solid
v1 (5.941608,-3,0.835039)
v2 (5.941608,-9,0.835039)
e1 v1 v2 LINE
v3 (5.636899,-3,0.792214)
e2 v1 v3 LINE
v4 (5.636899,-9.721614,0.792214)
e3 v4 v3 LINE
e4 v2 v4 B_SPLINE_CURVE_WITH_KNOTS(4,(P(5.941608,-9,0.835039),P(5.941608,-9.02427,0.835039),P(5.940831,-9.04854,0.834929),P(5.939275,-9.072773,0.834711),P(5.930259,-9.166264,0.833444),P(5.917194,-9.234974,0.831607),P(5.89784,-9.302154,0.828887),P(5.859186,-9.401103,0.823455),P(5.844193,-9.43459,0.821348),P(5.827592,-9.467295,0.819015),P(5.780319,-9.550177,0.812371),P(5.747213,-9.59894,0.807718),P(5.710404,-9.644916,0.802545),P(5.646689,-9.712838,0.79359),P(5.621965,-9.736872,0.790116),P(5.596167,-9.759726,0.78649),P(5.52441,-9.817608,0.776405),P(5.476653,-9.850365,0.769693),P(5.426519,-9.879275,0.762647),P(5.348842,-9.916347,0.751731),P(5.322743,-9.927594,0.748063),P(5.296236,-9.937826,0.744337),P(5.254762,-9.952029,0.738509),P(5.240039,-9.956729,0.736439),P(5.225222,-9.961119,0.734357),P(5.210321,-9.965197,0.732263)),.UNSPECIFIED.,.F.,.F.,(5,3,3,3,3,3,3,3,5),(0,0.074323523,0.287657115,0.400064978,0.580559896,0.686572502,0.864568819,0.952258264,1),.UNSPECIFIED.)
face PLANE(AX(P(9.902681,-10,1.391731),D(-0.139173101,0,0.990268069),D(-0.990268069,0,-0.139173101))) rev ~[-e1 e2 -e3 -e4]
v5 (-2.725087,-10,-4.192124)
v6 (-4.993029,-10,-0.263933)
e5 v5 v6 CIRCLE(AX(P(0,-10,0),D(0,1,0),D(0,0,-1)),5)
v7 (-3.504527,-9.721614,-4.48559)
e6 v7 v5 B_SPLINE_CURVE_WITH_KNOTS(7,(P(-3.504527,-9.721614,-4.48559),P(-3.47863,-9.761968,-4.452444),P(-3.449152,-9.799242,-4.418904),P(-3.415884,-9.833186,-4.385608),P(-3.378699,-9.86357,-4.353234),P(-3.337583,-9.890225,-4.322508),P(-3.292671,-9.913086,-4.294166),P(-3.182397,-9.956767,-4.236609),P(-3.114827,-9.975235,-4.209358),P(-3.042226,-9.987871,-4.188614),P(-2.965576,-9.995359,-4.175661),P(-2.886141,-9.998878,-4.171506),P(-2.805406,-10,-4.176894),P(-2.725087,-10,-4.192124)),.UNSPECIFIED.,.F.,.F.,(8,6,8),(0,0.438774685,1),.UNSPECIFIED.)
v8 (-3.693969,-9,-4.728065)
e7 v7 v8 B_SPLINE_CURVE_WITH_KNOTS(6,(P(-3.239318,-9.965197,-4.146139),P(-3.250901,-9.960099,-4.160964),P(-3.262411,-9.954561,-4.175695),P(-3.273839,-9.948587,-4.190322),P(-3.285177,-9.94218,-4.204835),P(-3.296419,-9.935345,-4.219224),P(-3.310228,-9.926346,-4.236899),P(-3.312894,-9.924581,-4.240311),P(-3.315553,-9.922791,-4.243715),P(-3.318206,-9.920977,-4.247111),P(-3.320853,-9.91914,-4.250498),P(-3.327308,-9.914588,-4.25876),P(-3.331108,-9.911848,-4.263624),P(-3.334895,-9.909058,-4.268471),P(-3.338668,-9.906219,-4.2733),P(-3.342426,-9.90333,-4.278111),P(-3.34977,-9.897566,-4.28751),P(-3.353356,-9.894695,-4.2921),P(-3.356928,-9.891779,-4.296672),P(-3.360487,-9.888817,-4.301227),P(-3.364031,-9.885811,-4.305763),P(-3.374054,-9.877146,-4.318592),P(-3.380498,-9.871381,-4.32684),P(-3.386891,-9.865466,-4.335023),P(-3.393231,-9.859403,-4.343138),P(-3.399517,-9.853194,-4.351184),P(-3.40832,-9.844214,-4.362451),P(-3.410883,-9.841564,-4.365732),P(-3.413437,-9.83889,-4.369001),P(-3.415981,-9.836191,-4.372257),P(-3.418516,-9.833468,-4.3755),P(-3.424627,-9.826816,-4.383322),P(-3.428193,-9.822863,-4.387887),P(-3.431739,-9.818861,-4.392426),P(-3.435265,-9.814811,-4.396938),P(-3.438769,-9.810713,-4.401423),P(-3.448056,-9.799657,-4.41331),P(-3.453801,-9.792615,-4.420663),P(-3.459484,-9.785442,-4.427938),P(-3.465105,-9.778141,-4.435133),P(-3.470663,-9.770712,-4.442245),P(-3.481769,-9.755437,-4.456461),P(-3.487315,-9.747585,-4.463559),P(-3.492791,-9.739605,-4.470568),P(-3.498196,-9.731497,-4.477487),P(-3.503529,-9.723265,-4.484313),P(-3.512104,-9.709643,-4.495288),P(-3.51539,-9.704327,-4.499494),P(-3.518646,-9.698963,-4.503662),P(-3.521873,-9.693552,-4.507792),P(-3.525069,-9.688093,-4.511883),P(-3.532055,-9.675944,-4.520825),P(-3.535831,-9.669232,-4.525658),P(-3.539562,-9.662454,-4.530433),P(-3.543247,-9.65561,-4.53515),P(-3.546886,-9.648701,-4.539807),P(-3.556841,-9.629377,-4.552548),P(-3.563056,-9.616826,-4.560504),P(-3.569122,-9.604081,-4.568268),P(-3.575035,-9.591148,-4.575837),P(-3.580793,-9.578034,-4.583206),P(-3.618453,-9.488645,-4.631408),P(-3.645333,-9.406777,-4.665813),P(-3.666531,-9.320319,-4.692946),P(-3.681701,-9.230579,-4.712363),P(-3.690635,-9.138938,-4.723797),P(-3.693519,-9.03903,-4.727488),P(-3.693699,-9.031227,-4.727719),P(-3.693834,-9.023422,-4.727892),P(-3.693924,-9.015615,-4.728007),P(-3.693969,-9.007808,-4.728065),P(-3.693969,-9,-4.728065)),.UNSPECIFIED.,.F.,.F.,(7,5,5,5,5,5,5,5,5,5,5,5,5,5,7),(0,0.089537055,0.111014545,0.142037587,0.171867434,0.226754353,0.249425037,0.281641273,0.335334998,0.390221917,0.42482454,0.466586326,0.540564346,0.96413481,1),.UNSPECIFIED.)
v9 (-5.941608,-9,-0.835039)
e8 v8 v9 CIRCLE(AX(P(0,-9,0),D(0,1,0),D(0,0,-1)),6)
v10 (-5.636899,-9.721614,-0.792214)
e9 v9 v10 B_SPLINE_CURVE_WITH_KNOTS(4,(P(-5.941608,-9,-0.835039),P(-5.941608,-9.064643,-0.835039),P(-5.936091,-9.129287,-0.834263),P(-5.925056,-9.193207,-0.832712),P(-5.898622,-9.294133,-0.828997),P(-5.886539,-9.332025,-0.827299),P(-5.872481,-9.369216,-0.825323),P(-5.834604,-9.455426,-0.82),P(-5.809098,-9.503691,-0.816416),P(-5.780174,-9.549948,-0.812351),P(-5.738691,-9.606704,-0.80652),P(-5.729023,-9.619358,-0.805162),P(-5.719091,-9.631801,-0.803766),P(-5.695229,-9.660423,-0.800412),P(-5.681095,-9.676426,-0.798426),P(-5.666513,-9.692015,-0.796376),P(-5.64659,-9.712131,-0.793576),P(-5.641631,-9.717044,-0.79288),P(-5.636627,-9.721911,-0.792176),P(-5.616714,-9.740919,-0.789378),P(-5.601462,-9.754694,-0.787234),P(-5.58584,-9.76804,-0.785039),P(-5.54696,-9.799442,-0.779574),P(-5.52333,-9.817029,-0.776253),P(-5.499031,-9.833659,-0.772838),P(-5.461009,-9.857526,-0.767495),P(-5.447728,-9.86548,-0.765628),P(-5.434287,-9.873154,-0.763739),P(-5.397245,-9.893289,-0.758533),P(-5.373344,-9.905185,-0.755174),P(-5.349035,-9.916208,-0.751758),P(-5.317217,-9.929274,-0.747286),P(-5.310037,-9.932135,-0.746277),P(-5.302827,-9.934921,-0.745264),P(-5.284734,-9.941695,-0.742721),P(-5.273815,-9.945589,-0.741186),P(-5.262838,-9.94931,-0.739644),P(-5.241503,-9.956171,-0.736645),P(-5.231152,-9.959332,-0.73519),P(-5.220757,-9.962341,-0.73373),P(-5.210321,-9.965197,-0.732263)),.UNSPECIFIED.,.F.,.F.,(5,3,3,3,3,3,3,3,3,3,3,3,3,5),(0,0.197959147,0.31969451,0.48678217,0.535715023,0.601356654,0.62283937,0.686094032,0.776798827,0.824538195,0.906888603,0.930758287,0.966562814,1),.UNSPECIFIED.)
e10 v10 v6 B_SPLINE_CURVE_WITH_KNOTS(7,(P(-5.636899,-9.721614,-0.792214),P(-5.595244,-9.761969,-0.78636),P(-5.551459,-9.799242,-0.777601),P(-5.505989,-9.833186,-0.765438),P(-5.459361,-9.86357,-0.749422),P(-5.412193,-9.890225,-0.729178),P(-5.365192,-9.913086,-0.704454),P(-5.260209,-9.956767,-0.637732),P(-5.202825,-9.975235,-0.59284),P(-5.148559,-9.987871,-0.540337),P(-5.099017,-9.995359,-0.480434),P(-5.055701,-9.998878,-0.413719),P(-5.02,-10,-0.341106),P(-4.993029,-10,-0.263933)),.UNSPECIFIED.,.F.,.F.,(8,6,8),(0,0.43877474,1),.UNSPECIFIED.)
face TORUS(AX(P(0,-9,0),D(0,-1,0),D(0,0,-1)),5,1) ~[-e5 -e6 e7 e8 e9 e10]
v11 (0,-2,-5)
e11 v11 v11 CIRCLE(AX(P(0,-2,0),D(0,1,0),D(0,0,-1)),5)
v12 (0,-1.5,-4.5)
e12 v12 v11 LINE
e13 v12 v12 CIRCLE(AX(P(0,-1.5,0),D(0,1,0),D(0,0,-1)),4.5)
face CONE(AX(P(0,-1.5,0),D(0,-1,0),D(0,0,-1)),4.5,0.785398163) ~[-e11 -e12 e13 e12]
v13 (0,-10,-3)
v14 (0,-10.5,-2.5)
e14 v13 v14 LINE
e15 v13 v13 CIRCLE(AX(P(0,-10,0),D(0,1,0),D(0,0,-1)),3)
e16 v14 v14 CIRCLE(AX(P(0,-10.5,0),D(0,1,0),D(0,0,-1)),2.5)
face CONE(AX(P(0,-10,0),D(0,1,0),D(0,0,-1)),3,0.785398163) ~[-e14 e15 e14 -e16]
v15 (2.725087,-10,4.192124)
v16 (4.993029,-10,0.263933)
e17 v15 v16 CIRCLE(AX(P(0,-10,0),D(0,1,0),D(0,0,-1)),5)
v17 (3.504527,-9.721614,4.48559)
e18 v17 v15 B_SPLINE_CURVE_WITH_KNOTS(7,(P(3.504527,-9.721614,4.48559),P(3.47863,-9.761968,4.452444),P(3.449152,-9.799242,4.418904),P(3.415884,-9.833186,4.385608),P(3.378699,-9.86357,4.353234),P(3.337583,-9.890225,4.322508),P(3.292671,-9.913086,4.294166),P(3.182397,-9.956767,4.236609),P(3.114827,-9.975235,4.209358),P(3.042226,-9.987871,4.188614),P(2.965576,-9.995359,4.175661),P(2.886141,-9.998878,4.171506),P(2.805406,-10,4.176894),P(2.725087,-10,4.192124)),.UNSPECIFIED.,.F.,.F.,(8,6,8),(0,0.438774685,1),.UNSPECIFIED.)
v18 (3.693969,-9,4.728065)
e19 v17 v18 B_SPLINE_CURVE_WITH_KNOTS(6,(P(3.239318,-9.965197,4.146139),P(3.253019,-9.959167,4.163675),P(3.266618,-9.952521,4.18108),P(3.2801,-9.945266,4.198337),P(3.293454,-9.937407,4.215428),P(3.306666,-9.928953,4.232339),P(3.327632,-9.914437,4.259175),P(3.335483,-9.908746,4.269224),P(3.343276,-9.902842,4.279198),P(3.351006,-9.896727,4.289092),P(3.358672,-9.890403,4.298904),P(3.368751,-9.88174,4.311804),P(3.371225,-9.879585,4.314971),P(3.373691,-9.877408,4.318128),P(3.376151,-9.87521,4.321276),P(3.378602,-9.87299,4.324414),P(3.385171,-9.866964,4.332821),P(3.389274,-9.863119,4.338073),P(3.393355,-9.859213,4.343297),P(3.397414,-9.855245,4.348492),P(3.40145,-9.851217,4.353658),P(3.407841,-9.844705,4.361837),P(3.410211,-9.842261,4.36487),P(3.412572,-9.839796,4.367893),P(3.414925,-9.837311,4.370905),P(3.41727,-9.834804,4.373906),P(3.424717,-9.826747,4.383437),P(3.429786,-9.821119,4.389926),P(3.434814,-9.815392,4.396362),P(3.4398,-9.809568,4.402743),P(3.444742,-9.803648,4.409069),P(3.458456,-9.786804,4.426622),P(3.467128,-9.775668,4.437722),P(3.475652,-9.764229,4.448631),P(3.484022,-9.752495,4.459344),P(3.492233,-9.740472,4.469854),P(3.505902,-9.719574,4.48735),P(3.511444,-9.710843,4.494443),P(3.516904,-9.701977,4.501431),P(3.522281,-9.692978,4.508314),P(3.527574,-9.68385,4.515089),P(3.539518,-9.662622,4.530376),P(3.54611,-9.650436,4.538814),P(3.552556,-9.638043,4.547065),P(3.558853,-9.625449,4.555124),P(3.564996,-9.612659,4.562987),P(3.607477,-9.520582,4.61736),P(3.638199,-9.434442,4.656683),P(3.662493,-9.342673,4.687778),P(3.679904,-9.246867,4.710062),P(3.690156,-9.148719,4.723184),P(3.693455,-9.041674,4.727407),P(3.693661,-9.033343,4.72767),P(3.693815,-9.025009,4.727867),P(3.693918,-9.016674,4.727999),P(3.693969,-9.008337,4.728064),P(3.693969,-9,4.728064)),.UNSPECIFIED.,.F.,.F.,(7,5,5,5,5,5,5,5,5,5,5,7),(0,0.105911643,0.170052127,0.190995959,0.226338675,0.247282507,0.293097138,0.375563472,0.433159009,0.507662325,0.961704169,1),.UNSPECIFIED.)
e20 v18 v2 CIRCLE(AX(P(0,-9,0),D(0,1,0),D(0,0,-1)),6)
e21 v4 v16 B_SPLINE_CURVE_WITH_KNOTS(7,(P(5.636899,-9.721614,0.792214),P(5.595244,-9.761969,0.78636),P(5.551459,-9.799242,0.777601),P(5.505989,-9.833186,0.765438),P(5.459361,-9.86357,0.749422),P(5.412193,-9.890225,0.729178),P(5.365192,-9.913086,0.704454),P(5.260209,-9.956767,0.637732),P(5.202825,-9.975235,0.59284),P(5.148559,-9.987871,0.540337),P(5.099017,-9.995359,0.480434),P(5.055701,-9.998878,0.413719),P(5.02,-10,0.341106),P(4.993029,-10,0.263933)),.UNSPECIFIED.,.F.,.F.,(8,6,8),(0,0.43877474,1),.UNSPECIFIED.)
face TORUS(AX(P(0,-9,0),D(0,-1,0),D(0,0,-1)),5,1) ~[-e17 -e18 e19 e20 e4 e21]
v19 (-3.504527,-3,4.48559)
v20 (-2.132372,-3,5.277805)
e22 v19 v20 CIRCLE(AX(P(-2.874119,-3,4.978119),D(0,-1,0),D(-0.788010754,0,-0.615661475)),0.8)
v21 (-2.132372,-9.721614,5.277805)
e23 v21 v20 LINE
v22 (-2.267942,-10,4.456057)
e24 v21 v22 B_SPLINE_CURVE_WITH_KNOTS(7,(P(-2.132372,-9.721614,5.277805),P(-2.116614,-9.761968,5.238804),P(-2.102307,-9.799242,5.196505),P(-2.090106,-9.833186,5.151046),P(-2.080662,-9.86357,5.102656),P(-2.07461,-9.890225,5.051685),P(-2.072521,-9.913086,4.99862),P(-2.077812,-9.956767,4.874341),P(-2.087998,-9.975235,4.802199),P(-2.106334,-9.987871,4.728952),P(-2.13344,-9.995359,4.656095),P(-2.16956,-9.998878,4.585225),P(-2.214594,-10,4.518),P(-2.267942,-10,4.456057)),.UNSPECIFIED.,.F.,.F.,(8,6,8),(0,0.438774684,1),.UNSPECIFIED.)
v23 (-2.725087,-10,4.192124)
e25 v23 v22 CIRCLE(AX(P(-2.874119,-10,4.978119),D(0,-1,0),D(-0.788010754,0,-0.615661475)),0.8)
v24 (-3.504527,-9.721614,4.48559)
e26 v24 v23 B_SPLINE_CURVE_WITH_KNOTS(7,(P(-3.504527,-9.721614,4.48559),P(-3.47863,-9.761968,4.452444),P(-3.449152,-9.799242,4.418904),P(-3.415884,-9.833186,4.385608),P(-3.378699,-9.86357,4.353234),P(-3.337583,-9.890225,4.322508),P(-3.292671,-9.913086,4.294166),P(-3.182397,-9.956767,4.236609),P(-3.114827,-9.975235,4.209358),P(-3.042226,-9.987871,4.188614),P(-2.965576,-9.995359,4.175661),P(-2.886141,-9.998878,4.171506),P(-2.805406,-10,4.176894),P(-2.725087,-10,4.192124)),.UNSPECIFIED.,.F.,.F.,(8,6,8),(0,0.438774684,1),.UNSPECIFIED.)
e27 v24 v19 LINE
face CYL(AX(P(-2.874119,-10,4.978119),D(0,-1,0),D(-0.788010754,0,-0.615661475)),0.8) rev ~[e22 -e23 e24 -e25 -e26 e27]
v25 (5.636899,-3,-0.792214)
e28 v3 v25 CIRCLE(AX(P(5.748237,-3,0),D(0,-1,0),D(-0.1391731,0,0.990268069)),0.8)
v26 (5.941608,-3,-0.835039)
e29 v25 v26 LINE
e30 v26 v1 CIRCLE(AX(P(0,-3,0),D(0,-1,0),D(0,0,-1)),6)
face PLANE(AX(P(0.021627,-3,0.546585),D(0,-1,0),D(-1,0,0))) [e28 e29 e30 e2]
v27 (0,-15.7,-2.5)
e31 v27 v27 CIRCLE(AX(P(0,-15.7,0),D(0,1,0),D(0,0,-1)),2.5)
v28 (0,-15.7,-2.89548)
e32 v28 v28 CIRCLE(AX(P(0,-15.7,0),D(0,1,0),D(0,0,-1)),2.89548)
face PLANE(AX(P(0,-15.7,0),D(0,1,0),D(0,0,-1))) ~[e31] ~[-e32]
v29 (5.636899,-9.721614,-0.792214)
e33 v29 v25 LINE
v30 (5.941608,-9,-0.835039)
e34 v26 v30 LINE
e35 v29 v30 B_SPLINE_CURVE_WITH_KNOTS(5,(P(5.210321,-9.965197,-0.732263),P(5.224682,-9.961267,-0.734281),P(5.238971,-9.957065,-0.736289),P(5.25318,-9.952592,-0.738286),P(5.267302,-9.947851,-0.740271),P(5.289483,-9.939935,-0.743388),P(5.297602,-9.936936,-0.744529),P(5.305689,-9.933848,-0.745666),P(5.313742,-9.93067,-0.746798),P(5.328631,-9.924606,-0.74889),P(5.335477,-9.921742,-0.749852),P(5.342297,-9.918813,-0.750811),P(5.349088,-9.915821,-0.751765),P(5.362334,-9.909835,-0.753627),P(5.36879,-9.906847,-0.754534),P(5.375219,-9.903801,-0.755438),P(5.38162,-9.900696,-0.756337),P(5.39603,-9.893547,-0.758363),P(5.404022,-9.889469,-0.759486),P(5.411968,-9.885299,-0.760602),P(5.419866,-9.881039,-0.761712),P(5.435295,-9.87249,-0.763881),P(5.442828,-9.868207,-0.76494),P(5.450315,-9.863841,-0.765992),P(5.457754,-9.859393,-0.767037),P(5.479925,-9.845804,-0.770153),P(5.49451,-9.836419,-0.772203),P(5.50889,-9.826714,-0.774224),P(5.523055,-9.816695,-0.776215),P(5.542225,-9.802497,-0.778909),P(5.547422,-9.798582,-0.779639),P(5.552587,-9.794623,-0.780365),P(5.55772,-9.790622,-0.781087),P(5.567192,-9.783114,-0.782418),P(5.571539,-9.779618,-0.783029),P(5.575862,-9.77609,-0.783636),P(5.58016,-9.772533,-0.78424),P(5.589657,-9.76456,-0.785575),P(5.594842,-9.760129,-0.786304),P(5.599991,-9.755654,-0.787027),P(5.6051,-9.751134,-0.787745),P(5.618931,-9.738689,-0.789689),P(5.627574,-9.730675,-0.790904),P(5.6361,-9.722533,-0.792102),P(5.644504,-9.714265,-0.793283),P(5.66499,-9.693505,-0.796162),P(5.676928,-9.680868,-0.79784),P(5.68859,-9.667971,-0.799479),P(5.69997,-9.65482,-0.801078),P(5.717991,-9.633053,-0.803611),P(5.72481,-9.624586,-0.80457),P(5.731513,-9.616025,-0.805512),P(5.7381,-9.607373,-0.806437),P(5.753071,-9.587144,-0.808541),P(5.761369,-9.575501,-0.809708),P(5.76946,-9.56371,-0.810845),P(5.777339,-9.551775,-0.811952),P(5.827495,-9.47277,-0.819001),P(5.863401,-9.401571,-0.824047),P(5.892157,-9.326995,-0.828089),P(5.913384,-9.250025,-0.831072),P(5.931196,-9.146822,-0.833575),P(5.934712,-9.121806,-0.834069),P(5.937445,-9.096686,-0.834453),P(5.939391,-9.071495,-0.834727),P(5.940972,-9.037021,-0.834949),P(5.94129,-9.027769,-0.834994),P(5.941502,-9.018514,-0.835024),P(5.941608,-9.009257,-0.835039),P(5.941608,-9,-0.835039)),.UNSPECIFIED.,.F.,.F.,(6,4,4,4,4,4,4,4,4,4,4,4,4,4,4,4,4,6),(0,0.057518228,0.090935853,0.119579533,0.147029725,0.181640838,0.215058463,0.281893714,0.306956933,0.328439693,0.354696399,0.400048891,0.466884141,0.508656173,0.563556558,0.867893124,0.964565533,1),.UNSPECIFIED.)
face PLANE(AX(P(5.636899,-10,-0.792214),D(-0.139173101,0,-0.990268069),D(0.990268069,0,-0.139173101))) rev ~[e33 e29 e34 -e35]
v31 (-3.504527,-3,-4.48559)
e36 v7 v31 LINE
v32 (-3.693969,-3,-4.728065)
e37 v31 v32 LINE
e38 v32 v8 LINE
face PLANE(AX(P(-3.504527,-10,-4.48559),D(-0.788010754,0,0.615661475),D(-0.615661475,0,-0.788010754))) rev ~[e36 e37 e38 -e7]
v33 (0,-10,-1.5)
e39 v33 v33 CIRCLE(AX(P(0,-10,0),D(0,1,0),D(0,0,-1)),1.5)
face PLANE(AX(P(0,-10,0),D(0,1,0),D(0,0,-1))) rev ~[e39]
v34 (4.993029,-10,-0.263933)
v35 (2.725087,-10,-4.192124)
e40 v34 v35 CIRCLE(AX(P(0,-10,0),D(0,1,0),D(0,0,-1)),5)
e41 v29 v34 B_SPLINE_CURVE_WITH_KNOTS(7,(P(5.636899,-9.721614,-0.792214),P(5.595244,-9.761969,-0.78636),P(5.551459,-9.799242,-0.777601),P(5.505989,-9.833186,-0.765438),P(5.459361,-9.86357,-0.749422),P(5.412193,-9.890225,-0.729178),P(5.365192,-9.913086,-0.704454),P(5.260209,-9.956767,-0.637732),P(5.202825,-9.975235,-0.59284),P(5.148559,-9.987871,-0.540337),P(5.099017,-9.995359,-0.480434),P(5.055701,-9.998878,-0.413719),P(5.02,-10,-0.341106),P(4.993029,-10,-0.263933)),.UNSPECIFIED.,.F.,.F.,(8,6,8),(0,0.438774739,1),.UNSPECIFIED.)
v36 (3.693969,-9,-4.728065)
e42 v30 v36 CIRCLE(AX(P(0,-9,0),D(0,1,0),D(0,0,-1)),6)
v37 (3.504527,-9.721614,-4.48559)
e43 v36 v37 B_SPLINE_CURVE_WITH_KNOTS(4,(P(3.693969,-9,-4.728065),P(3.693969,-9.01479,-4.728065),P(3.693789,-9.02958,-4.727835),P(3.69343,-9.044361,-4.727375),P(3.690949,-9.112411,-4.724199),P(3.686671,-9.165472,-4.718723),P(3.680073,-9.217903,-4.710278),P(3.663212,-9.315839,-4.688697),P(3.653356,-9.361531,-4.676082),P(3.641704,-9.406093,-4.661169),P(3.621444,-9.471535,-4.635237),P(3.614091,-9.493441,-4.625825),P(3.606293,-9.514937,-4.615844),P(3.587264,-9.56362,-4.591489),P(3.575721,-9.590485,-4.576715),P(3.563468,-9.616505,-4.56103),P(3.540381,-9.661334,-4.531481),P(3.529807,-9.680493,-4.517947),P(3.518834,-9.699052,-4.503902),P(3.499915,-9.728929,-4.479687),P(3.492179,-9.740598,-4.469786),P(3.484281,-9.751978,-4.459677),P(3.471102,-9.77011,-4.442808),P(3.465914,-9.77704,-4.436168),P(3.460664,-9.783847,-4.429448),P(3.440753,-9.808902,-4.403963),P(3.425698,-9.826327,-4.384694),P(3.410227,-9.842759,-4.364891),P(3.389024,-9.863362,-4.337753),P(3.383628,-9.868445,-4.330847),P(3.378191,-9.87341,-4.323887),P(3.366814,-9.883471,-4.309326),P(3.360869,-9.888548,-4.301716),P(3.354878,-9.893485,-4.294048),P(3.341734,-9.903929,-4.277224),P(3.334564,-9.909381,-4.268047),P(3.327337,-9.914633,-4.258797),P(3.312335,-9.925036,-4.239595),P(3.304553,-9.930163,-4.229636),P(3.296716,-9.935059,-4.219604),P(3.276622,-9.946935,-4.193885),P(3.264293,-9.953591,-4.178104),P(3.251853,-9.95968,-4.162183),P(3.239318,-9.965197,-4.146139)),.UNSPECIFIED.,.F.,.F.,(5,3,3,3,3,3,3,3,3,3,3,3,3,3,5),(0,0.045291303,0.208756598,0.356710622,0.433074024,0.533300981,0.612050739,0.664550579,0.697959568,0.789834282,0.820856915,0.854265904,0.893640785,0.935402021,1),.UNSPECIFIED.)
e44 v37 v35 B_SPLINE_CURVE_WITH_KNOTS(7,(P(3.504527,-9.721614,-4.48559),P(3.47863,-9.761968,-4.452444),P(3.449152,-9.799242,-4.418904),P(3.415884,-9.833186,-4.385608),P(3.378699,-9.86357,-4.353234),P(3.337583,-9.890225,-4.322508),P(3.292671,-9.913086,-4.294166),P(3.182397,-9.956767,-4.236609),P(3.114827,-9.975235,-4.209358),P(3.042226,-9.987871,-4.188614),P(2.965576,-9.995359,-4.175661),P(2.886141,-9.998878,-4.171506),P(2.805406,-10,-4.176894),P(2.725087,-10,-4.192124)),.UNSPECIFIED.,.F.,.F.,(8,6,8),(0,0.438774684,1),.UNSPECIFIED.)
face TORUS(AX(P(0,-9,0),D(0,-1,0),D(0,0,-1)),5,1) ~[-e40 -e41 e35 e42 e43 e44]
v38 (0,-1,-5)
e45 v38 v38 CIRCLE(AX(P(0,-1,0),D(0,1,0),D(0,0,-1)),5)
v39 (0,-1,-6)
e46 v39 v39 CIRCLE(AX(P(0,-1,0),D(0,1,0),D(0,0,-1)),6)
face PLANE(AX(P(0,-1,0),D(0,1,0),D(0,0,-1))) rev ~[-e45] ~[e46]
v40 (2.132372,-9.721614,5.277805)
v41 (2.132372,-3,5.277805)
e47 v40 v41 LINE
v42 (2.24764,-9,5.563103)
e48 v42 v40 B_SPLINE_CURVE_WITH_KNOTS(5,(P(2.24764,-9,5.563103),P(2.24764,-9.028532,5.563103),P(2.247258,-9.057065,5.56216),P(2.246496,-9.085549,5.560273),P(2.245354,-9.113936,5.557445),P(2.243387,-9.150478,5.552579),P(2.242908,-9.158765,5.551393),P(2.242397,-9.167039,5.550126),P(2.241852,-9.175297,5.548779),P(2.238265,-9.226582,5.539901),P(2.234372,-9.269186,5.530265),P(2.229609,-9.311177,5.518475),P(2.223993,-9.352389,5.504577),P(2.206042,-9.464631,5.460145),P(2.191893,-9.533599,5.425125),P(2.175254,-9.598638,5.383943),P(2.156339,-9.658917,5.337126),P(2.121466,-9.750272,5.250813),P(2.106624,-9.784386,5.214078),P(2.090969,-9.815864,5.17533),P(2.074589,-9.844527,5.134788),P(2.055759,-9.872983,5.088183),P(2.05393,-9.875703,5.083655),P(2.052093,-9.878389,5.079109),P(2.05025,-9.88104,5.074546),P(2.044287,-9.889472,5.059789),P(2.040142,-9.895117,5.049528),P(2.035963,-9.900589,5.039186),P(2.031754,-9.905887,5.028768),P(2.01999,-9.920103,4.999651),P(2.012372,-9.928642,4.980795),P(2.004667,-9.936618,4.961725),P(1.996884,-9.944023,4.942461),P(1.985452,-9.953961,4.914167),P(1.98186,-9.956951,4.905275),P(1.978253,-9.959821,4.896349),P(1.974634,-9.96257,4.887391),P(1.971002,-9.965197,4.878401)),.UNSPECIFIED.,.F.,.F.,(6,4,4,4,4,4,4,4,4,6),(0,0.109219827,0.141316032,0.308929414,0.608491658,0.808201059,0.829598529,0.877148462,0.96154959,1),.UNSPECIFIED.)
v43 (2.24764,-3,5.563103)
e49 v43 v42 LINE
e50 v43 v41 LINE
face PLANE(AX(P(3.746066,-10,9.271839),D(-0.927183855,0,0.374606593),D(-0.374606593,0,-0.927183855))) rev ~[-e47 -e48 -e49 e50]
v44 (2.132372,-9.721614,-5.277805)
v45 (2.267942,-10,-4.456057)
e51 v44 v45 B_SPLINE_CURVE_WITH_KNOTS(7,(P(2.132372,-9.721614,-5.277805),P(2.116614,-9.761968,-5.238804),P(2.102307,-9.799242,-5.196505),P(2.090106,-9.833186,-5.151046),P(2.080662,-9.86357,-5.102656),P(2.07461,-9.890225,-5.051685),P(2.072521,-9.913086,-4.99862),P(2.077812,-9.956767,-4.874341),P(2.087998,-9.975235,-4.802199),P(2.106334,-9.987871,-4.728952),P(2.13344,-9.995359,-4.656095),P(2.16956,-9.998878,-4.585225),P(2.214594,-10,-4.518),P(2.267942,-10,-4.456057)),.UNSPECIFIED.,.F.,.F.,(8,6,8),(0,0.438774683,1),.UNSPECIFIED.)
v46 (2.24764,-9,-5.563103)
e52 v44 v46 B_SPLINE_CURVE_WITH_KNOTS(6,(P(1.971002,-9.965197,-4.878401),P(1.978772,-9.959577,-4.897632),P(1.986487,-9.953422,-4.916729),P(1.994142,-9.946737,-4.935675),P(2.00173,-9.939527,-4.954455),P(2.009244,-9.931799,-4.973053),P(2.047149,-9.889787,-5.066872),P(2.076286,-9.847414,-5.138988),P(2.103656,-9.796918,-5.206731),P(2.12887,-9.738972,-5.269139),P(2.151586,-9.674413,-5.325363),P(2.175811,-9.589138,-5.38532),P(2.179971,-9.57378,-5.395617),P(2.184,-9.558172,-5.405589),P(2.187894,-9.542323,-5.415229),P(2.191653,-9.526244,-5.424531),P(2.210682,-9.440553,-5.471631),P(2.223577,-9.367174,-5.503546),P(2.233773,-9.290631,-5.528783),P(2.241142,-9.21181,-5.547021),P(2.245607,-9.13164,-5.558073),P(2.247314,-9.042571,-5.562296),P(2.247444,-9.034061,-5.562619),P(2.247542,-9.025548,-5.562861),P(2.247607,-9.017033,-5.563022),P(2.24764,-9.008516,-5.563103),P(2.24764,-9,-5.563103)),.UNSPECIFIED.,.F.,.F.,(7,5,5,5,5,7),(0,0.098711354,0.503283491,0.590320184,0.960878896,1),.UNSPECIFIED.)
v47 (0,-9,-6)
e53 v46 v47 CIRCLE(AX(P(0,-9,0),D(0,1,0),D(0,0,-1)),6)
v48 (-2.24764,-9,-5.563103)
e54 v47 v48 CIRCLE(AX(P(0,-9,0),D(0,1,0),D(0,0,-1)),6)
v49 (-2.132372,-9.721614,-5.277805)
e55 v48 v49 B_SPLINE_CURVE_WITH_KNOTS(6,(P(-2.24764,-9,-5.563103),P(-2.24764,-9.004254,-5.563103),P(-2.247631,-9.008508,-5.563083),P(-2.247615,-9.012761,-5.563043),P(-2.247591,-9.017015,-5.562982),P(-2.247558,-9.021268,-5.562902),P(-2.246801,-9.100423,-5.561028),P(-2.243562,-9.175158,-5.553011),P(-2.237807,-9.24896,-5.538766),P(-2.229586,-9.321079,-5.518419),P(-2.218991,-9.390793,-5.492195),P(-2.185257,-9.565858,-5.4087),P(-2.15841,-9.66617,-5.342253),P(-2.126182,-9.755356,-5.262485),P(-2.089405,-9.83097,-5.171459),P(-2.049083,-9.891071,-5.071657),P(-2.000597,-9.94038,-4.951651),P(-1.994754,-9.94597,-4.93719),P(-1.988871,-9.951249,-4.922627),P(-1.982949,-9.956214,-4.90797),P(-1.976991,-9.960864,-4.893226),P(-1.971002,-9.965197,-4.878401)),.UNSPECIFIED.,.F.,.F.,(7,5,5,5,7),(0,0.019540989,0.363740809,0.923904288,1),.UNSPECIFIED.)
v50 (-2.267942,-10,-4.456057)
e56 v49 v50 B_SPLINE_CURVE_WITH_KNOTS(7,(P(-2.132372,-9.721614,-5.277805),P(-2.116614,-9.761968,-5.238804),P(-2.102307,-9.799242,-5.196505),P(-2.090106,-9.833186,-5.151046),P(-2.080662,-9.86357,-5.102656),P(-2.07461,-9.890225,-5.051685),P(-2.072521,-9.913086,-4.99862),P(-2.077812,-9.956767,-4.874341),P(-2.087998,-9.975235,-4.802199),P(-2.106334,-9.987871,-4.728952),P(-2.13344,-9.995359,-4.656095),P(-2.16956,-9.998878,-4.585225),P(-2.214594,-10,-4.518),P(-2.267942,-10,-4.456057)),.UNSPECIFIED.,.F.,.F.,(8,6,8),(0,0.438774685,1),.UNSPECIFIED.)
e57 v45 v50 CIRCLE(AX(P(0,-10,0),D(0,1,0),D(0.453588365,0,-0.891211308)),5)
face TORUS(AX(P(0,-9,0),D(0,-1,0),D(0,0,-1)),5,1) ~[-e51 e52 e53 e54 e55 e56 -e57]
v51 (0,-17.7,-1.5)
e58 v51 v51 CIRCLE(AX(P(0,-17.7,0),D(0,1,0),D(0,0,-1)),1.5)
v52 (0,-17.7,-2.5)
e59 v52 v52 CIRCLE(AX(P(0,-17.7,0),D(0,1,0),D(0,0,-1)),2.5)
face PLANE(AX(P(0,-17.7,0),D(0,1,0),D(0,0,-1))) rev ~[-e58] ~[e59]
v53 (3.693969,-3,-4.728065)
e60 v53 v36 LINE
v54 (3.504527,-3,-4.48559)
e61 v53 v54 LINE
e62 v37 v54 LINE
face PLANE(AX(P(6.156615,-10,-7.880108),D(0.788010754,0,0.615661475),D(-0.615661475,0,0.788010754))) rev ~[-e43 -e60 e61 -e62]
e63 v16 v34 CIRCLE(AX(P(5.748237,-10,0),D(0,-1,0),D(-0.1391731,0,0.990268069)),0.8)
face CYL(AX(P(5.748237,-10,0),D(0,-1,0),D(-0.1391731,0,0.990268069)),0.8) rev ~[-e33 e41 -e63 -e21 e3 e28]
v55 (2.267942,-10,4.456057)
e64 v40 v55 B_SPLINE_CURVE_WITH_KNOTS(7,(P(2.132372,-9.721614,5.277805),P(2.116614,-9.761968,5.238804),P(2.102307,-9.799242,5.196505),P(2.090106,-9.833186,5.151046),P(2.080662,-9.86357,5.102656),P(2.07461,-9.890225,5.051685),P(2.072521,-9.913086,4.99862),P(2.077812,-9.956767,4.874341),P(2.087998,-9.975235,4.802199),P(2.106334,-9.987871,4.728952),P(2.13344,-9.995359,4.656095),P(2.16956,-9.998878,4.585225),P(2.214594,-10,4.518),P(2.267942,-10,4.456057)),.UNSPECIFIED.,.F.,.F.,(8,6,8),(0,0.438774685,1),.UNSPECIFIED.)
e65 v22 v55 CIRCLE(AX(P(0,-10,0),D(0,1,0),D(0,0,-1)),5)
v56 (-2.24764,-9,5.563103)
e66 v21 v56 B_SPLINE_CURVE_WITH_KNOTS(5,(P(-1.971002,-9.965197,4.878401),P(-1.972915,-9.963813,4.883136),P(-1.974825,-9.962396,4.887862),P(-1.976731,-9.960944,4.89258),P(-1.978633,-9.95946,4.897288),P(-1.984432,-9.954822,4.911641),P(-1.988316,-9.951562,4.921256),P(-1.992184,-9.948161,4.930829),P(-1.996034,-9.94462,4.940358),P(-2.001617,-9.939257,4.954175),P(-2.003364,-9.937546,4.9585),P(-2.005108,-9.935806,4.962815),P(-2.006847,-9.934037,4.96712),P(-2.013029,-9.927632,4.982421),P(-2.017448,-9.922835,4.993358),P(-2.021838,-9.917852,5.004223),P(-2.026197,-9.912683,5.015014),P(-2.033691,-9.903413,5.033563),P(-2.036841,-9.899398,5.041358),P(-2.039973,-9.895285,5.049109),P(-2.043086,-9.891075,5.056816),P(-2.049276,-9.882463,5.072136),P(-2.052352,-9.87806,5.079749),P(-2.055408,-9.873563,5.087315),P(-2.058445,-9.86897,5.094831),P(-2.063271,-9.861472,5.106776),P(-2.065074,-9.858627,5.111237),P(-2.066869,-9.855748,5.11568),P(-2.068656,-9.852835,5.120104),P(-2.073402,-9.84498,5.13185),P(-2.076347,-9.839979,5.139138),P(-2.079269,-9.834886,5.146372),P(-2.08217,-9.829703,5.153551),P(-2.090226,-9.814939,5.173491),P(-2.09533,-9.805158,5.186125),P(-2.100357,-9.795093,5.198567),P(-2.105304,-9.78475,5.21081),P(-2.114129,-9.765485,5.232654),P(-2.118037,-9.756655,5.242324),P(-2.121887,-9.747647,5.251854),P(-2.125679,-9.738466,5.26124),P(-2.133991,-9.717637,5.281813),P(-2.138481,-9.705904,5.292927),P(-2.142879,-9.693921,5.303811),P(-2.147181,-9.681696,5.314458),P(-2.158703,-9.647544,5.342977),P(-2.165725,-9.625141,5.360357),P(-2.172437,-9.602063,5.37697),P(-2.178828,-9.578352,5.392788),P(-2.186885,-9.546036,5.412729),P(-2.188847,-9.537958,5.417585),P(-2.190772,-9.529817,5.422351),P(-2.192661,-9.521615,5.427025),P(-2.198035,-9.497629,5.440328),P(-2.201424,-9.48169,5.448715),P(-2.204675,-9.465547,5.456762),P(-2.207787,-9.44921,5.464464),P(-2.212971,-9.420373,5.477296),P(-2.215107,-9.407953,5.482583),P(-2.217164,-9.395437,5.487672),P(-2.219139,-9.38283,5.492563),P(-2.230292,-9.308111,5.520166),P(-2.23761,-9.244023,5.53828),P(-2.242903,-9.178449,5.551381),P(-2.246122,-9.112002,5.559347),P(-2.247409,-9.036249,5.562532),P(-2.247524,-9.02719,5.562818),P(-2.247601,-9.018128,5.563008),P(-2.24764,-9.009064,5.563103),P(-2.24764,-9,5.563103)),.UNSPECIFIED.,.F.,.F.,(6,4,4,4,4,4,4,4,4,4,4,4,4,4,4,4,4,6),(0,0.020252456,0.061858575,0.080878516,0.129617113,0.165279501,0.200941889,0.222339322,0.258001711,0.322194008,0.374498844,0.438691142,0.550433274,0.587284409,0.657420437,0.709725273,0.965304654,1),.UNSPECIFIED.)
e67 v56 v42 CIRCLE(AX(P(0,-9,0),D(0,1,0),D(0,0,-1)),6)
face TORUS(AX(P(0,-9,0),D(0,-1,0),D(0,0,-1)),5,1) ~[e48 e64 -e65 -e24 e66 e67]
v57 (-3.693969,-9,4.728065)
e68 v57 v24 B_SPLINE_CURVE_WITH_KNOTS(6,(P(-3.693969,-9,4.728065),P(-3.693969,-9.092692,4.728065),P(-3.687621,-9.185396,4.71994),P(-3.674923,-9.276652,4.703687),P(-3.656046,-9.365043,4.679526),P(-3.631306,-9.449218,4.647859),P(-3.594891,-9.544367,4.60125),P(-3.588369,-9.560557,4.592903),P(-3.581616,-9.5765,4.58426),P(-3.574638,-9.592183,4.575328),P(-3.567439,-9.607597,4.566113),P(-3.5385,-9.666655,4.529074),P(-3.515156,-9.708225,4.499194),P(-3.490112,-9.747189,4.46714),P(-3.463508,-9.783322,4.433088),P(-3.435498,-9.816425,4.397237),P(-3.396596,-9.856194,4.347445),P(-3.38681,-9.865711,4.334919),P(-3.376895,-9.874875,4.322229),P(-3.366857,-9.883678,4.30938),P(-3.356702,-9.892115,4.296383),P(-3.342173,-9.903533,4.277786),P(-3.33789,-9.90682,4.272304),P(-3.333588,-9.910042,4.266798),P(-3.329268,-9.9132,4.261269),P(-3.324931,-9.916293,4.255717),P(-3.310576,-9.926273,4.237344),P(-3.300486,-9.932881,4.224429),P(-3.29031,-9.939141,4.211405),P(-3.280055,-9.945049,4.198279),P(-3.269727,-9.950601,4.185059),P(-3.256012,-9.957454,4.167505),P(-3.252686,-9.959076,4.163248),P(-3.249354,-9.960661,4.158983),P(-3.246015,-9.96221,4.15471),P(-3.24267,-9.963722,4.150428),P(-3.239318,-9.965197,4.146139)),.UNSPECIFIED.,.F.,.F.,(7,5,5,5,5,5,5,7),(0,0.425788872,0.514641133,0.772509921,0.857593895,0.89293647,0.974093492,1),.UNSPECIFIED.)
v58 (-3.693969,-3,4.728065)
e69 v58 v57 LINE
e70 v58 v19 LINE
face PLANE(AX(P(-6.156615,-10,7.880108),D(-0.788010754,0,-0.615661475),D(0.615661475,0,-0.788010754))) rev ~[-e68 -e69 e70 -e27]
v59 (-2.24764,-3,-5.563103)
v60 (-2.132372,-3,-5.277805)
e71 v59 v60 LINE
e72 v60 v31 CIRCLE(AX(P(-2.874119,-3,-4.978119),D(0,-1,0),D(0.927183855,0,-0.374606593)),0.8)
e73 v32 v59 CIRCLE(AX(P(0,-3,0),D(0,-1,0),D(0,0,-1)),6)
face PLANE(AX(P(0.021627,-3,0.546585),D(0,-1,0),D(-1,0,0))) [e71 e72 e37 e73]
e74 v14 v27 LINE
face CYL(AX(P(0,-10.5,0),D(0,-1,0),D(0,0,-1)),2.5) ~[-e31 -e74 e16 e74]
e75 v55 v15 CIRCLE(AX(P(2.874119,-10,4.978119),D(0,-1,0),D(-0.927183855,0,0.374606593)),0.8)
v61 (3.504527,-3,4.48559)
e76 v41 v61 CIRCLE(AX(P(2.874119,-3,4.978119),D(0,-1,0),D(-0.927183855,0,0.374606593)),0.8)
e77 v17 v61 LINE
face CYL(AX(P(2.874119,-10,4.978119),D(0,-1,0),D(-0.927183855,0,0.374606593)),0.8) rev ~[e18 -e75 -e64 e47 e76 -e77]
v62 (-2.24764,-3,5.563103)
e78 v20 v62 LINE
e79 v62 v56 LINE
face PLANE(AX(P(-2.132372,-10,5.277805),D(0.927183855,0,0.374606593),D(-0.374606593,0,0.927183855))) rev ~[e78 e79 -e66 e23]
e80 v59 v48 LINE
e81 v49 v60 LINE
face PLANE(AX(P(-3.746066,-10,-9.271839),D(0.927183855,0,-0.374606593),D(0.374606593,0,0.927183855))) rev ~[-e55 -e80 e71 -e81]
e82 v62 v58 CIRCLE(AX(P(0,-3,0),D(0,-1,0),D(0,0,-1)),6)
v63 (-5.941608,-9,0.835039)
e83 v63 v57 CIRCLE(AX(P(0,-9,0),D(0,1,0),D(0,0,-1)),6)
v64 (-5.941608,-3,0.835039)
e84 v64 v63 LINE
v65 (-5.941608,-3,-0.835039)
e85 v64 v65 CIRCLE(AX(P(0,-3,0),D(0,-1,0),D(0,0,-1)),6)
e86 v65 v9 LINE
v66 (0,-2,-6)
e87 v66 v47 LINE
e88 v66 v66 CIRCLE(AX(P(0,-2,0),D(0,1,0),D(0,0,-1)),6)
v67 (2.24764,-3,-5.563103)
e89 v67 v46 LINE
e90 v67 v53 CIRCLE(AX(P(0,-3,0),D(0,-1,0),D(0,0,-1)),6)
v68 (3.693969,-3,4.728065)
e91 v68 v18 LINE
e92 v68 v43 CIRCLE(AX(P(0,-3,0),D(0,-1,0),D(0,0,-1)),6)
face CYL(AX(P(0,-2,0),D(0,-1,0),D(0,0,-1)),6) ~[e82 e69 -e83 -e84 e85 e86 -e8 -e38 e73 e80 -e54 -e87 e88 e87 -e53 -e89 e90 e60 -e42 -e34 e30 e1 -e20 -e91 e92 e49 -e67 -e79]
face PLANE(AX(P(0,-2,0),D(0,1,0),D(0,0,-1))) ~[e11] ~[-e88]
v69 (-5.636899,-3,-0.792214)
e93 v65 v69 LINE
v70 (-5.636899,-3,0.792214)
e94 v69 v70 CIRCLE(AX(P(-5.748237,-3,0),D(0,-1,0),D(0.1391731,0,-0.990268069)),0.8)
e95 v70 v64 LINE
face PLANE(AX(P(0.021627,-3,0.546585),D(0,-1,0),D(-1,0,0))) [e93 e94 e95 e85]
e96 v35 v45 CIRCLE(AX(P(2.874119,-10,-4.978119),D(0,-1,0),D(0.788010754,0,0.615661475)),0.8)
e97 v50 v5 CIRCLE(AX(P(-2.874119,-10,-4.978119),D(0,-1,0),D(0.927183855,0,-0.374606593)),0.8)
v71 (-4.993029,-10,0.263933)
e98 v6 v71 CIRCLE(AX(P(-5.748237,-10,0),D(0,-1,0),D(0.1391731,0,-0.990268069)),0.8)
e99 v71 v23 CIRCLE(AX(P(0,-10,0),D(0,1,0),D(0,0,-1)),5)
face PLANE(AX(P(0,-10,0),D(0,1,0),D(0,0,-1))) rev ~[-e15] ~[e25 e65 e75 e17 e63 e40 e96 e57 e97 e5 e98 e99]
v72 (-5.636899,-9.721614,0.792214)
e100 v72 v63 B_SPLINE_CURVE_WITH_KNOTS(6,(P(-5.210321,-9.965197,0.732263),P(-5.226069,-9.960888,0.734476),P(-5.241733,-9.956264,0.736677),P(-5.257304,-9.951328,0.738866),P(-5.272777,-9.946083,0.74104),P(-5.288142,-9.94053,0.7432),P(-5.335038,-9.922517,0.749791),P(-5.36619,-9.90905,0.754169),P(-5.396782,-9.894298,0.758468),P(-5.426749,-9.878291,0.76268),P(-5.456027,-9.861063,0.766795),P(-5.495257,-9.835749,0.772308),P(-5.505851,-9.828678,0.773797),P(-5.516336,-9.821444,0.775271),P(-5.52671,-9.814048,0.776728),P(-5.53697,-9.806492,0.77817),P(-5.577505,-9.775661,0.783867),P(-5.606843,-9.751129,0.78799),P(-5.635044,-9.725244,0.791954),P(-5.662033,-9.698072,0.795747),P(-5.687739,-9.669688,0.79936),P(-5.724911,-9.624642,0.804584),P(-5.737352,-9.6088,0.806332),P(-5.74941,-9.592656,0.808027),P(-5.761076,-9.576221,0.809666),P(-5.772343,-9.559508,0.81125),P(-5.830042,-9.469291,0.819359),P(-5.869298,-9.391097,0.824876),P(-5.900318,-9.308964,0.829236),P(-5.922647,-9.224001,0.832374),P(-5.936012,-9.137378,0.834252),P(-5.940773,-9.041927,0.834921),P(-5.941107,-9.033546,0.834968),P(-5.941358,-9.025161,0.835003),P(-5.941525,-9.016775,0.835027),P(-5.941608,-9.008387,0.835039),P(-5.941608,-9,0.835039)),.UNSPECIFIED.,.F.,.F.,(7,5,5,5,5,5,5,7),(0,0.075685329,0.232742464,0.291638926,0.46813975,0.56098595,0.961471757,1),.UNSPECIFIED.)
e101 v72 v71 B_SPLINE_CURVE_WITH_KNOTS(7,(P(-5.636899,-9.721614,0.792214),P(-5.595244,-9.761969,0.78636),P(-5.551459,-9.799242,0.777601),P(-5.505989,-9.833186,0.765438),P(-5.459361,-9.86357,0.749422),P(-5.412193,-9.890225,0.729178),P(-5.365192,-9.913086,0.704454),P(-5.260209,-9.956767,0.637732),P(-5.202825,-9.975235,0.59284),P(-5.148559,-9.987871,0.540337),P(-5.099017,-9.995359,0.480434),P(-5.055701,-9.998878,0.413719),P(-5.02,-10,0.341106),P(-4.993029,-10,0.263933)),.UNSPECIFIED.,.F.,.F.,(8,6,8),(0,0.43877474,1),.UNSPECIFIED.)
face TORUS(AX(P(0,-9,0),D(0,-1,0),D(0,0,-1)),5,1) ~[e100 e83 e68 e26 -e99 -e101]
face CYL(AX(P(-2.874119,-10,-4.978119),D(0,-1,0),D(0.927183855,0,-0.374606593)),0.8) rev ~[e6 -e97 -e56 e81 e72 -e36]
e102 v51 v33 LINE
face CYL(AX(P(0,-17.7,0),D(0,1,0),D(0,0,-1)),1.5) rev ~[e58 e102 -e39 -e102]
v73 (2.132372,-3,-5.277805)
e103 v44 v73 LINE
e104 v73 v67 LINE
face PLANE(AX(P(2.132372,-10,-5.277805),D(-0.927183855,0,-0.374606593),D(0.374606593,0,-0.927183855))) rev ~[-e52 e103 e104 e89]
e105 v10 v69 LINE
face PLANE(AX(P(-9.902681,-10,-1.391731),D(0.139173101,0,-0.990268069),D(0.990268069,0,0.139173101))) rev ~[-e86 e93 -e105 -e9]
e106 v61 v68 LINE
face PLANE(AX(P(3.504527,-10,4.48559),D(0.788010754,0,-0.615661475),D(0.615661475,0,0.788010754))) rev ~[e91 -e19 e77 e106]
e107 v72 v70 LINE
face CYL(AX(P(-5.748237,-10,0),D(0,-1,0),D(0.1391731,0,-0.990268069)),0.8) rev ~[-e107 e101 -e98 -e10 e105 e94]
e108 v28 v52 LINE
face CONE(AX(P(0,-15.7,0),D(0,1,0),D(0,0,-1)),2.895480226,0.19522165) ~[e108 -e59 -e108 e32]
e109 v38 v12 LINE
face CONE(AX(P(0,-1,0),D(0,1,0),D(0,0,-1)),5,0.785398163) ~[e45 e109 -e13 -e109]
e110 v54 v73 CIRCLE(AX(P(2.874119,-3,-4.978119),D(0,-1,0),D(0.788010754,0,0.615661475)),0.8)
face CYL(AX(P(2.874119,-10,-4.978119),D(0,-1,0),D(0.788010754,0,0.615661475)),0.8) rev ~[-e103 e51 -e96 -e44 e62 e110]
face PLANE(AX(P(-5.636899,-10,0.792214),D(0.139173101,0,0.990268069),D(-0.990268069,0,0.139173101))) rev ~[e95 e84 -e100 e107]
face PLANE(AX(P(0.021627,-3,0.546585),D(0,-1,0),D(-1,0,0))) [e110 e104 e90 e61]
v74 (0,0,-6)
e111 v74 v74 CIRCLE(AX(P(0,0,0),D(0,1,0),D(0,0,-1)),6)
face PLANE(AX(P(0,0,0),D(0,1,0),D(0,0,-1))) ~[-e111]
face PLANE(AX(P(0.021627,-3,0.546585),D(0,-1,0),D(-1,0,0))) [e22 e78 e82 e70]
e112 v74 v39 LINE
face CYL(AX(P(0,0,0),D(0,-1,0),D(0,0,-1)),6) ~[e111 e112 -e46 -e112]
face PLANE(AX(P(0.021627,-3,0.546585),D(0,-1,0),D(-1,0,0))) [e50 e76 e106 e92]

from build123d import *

# Parameters (mm, degrees)
CUT_EXTRUDE1_DEPTH      = 7
CUT_EXTRUDE1_DEPTH_BACK = 7


with BuildPart() as part:
    # Sketch1 → Revolve1 (revolve)
    with BuildSketch(Plane(origin=(0, 0, 0), x_dir=(0, 0, -1), z_dir=(1, 0, 0))):
        with BuildLine():
            Line((0, 0), (6, 0))
            Line((6, 0), (6, -1))
            Line((6, -1), (5, -1))
            Line((5, -1), (4.5, -1.5))
            Line((4.5, -1.5), (5, -2))
            Line((5, -2), (6, -2))
            Line((6, -2), (6, -9))
            ThreePointArc((6, -9), (5.707106781, -9.707106781), (5, -10))
            Line((5, -10), (3, -10))
            Line((3, -10), (2.5, -10.5))
            Line((2.5, -10.5), (2.5, -15.7))
            Line((2.5, -15.7), (2.895480226, -15.7))
            Line((2.895480226, -15.7), (2.5, -17.7))
            Line((2.5, -17.7), (1.5, -17.7))
            Line((1.5, -17.7), (1.5, -10))
            Line((1.5, -10), (0, -10))
            Line((0, -10), (0, 0))
        make_face()
    revolve(axis=Axis((0, -17.7, 0), (0, 1, 0)))

    # Sketch2 → Cut-Extrude1 (cut, two sides)
    with BuildSketch(Plane(origin=(0, -10, 0), x_dir=(-1, 0, 0), z_dir=(0, -1, 0))) as cut_extrude1_sk:
        with BuildLine():
            Line((-1, -14.966629547), (-1, -9.949874371))
            ThreePointArc((-1, -9.949874371), (-2.397127157, -9.708438669), (-3.746065934, -9.271838546))
            Line((-3.746065934, -9.271838546), (-2.13237153, -5.277804741))
            ThreePointArc((-2.13237153, -5.277804741), (-2.474118614, -4.285299143), (-3.504527217, -4.485590286))
            Line((-3.504527217, -4.485590286), (-6.156614753, -7.880107536))
            ThreePointArc((-6.156614753, -7.880107536), (-8.660254038, -5), (-9.902680687, -1.39173101))
            Line((-9.902680687, -1.39173101), (-5.636898747, -0.792214455))
            ThreePointArc((-5.636898747, -0.792214455), (-4.948237227, 0), (-5.636898747, 0.792214455))
            Line((-5.636898747, 0.792214455), (-9.902680687, 1.39173101))
            ThreePointArc((-9.902680687, 1.39173101), (-8.660254038, 5), (-6.156614753, 7.880107536))
            Line((-6.156614753, 7.880107536), (-3.504527217, 4.485590286))
            ThreePointArc((-3.504527217, 4.485590286), (-2.474118614, 4.285299143), (-2.13237153, 5.277804741))
            Line((-2.13237153, 5.277804741), (-3.746065934, 9.271838546))
            ThreePointArc((-3.746065934, 9.271838546), (0, 10), (3.746065934, 9.271838546))
            Line((3.746065934, 9.271838546), (2.13237153, 5.277804741))
            ThreePointArc((2.13237153, 5.277804741), (2.474118614, 4.285299143), (3.504527217, 4.485590286))
            Line((3.504527217, 4.485590286), (6.156614753, 7.880107536))
            ThreePointArc((6.156614753, 7.880107536), (8.660254038, 5), (9.902680687, 1.39173101))
            Line((9.902680687, 1.39173101), (5.636898747, 0.792214455))
            ThreePointArc((5.636898747, 0.792214455), (4.948237227, 0), (5.636898747, -0.792214455))
            Line((5.636898747, -0.792214455), (9.902680687, -1.39173101))
            ThreePointArc((9.902680687, -1.39173101), (8.660254038, -5), (6.156614753, -7.880107536))
            Line((6.156614753, -7.880107536), (3.504527217, -4.485590286))
            ThreePointArc((3.504527217, -4.485590286), (2.474118614, -4.285299143), (2.13237153, -5.277804741))
            Line((2.13237153, -5.277804741), (3.746065934, -9.271838546))
            ThreePointArc((3.746065934, -9.271838546), (1.908089954, -9.816271834), (0, -10))
            Line((0, -10), (0, -15))
            ThreePointArc((0, -15), (0.500278319, 14.991655066), (-1, -14.966629547))
        make_face()
    extrude(amount=CUT_EXTRUDE1_DEPTH, mode=Mode.SUBTRACT)
    extrude(cut_extrude1_sk.sketch, amount=-CUT_EXTRUDE1_DEPTH_BACK, mode=Mode.SUBTRACT)


solid = part.part
